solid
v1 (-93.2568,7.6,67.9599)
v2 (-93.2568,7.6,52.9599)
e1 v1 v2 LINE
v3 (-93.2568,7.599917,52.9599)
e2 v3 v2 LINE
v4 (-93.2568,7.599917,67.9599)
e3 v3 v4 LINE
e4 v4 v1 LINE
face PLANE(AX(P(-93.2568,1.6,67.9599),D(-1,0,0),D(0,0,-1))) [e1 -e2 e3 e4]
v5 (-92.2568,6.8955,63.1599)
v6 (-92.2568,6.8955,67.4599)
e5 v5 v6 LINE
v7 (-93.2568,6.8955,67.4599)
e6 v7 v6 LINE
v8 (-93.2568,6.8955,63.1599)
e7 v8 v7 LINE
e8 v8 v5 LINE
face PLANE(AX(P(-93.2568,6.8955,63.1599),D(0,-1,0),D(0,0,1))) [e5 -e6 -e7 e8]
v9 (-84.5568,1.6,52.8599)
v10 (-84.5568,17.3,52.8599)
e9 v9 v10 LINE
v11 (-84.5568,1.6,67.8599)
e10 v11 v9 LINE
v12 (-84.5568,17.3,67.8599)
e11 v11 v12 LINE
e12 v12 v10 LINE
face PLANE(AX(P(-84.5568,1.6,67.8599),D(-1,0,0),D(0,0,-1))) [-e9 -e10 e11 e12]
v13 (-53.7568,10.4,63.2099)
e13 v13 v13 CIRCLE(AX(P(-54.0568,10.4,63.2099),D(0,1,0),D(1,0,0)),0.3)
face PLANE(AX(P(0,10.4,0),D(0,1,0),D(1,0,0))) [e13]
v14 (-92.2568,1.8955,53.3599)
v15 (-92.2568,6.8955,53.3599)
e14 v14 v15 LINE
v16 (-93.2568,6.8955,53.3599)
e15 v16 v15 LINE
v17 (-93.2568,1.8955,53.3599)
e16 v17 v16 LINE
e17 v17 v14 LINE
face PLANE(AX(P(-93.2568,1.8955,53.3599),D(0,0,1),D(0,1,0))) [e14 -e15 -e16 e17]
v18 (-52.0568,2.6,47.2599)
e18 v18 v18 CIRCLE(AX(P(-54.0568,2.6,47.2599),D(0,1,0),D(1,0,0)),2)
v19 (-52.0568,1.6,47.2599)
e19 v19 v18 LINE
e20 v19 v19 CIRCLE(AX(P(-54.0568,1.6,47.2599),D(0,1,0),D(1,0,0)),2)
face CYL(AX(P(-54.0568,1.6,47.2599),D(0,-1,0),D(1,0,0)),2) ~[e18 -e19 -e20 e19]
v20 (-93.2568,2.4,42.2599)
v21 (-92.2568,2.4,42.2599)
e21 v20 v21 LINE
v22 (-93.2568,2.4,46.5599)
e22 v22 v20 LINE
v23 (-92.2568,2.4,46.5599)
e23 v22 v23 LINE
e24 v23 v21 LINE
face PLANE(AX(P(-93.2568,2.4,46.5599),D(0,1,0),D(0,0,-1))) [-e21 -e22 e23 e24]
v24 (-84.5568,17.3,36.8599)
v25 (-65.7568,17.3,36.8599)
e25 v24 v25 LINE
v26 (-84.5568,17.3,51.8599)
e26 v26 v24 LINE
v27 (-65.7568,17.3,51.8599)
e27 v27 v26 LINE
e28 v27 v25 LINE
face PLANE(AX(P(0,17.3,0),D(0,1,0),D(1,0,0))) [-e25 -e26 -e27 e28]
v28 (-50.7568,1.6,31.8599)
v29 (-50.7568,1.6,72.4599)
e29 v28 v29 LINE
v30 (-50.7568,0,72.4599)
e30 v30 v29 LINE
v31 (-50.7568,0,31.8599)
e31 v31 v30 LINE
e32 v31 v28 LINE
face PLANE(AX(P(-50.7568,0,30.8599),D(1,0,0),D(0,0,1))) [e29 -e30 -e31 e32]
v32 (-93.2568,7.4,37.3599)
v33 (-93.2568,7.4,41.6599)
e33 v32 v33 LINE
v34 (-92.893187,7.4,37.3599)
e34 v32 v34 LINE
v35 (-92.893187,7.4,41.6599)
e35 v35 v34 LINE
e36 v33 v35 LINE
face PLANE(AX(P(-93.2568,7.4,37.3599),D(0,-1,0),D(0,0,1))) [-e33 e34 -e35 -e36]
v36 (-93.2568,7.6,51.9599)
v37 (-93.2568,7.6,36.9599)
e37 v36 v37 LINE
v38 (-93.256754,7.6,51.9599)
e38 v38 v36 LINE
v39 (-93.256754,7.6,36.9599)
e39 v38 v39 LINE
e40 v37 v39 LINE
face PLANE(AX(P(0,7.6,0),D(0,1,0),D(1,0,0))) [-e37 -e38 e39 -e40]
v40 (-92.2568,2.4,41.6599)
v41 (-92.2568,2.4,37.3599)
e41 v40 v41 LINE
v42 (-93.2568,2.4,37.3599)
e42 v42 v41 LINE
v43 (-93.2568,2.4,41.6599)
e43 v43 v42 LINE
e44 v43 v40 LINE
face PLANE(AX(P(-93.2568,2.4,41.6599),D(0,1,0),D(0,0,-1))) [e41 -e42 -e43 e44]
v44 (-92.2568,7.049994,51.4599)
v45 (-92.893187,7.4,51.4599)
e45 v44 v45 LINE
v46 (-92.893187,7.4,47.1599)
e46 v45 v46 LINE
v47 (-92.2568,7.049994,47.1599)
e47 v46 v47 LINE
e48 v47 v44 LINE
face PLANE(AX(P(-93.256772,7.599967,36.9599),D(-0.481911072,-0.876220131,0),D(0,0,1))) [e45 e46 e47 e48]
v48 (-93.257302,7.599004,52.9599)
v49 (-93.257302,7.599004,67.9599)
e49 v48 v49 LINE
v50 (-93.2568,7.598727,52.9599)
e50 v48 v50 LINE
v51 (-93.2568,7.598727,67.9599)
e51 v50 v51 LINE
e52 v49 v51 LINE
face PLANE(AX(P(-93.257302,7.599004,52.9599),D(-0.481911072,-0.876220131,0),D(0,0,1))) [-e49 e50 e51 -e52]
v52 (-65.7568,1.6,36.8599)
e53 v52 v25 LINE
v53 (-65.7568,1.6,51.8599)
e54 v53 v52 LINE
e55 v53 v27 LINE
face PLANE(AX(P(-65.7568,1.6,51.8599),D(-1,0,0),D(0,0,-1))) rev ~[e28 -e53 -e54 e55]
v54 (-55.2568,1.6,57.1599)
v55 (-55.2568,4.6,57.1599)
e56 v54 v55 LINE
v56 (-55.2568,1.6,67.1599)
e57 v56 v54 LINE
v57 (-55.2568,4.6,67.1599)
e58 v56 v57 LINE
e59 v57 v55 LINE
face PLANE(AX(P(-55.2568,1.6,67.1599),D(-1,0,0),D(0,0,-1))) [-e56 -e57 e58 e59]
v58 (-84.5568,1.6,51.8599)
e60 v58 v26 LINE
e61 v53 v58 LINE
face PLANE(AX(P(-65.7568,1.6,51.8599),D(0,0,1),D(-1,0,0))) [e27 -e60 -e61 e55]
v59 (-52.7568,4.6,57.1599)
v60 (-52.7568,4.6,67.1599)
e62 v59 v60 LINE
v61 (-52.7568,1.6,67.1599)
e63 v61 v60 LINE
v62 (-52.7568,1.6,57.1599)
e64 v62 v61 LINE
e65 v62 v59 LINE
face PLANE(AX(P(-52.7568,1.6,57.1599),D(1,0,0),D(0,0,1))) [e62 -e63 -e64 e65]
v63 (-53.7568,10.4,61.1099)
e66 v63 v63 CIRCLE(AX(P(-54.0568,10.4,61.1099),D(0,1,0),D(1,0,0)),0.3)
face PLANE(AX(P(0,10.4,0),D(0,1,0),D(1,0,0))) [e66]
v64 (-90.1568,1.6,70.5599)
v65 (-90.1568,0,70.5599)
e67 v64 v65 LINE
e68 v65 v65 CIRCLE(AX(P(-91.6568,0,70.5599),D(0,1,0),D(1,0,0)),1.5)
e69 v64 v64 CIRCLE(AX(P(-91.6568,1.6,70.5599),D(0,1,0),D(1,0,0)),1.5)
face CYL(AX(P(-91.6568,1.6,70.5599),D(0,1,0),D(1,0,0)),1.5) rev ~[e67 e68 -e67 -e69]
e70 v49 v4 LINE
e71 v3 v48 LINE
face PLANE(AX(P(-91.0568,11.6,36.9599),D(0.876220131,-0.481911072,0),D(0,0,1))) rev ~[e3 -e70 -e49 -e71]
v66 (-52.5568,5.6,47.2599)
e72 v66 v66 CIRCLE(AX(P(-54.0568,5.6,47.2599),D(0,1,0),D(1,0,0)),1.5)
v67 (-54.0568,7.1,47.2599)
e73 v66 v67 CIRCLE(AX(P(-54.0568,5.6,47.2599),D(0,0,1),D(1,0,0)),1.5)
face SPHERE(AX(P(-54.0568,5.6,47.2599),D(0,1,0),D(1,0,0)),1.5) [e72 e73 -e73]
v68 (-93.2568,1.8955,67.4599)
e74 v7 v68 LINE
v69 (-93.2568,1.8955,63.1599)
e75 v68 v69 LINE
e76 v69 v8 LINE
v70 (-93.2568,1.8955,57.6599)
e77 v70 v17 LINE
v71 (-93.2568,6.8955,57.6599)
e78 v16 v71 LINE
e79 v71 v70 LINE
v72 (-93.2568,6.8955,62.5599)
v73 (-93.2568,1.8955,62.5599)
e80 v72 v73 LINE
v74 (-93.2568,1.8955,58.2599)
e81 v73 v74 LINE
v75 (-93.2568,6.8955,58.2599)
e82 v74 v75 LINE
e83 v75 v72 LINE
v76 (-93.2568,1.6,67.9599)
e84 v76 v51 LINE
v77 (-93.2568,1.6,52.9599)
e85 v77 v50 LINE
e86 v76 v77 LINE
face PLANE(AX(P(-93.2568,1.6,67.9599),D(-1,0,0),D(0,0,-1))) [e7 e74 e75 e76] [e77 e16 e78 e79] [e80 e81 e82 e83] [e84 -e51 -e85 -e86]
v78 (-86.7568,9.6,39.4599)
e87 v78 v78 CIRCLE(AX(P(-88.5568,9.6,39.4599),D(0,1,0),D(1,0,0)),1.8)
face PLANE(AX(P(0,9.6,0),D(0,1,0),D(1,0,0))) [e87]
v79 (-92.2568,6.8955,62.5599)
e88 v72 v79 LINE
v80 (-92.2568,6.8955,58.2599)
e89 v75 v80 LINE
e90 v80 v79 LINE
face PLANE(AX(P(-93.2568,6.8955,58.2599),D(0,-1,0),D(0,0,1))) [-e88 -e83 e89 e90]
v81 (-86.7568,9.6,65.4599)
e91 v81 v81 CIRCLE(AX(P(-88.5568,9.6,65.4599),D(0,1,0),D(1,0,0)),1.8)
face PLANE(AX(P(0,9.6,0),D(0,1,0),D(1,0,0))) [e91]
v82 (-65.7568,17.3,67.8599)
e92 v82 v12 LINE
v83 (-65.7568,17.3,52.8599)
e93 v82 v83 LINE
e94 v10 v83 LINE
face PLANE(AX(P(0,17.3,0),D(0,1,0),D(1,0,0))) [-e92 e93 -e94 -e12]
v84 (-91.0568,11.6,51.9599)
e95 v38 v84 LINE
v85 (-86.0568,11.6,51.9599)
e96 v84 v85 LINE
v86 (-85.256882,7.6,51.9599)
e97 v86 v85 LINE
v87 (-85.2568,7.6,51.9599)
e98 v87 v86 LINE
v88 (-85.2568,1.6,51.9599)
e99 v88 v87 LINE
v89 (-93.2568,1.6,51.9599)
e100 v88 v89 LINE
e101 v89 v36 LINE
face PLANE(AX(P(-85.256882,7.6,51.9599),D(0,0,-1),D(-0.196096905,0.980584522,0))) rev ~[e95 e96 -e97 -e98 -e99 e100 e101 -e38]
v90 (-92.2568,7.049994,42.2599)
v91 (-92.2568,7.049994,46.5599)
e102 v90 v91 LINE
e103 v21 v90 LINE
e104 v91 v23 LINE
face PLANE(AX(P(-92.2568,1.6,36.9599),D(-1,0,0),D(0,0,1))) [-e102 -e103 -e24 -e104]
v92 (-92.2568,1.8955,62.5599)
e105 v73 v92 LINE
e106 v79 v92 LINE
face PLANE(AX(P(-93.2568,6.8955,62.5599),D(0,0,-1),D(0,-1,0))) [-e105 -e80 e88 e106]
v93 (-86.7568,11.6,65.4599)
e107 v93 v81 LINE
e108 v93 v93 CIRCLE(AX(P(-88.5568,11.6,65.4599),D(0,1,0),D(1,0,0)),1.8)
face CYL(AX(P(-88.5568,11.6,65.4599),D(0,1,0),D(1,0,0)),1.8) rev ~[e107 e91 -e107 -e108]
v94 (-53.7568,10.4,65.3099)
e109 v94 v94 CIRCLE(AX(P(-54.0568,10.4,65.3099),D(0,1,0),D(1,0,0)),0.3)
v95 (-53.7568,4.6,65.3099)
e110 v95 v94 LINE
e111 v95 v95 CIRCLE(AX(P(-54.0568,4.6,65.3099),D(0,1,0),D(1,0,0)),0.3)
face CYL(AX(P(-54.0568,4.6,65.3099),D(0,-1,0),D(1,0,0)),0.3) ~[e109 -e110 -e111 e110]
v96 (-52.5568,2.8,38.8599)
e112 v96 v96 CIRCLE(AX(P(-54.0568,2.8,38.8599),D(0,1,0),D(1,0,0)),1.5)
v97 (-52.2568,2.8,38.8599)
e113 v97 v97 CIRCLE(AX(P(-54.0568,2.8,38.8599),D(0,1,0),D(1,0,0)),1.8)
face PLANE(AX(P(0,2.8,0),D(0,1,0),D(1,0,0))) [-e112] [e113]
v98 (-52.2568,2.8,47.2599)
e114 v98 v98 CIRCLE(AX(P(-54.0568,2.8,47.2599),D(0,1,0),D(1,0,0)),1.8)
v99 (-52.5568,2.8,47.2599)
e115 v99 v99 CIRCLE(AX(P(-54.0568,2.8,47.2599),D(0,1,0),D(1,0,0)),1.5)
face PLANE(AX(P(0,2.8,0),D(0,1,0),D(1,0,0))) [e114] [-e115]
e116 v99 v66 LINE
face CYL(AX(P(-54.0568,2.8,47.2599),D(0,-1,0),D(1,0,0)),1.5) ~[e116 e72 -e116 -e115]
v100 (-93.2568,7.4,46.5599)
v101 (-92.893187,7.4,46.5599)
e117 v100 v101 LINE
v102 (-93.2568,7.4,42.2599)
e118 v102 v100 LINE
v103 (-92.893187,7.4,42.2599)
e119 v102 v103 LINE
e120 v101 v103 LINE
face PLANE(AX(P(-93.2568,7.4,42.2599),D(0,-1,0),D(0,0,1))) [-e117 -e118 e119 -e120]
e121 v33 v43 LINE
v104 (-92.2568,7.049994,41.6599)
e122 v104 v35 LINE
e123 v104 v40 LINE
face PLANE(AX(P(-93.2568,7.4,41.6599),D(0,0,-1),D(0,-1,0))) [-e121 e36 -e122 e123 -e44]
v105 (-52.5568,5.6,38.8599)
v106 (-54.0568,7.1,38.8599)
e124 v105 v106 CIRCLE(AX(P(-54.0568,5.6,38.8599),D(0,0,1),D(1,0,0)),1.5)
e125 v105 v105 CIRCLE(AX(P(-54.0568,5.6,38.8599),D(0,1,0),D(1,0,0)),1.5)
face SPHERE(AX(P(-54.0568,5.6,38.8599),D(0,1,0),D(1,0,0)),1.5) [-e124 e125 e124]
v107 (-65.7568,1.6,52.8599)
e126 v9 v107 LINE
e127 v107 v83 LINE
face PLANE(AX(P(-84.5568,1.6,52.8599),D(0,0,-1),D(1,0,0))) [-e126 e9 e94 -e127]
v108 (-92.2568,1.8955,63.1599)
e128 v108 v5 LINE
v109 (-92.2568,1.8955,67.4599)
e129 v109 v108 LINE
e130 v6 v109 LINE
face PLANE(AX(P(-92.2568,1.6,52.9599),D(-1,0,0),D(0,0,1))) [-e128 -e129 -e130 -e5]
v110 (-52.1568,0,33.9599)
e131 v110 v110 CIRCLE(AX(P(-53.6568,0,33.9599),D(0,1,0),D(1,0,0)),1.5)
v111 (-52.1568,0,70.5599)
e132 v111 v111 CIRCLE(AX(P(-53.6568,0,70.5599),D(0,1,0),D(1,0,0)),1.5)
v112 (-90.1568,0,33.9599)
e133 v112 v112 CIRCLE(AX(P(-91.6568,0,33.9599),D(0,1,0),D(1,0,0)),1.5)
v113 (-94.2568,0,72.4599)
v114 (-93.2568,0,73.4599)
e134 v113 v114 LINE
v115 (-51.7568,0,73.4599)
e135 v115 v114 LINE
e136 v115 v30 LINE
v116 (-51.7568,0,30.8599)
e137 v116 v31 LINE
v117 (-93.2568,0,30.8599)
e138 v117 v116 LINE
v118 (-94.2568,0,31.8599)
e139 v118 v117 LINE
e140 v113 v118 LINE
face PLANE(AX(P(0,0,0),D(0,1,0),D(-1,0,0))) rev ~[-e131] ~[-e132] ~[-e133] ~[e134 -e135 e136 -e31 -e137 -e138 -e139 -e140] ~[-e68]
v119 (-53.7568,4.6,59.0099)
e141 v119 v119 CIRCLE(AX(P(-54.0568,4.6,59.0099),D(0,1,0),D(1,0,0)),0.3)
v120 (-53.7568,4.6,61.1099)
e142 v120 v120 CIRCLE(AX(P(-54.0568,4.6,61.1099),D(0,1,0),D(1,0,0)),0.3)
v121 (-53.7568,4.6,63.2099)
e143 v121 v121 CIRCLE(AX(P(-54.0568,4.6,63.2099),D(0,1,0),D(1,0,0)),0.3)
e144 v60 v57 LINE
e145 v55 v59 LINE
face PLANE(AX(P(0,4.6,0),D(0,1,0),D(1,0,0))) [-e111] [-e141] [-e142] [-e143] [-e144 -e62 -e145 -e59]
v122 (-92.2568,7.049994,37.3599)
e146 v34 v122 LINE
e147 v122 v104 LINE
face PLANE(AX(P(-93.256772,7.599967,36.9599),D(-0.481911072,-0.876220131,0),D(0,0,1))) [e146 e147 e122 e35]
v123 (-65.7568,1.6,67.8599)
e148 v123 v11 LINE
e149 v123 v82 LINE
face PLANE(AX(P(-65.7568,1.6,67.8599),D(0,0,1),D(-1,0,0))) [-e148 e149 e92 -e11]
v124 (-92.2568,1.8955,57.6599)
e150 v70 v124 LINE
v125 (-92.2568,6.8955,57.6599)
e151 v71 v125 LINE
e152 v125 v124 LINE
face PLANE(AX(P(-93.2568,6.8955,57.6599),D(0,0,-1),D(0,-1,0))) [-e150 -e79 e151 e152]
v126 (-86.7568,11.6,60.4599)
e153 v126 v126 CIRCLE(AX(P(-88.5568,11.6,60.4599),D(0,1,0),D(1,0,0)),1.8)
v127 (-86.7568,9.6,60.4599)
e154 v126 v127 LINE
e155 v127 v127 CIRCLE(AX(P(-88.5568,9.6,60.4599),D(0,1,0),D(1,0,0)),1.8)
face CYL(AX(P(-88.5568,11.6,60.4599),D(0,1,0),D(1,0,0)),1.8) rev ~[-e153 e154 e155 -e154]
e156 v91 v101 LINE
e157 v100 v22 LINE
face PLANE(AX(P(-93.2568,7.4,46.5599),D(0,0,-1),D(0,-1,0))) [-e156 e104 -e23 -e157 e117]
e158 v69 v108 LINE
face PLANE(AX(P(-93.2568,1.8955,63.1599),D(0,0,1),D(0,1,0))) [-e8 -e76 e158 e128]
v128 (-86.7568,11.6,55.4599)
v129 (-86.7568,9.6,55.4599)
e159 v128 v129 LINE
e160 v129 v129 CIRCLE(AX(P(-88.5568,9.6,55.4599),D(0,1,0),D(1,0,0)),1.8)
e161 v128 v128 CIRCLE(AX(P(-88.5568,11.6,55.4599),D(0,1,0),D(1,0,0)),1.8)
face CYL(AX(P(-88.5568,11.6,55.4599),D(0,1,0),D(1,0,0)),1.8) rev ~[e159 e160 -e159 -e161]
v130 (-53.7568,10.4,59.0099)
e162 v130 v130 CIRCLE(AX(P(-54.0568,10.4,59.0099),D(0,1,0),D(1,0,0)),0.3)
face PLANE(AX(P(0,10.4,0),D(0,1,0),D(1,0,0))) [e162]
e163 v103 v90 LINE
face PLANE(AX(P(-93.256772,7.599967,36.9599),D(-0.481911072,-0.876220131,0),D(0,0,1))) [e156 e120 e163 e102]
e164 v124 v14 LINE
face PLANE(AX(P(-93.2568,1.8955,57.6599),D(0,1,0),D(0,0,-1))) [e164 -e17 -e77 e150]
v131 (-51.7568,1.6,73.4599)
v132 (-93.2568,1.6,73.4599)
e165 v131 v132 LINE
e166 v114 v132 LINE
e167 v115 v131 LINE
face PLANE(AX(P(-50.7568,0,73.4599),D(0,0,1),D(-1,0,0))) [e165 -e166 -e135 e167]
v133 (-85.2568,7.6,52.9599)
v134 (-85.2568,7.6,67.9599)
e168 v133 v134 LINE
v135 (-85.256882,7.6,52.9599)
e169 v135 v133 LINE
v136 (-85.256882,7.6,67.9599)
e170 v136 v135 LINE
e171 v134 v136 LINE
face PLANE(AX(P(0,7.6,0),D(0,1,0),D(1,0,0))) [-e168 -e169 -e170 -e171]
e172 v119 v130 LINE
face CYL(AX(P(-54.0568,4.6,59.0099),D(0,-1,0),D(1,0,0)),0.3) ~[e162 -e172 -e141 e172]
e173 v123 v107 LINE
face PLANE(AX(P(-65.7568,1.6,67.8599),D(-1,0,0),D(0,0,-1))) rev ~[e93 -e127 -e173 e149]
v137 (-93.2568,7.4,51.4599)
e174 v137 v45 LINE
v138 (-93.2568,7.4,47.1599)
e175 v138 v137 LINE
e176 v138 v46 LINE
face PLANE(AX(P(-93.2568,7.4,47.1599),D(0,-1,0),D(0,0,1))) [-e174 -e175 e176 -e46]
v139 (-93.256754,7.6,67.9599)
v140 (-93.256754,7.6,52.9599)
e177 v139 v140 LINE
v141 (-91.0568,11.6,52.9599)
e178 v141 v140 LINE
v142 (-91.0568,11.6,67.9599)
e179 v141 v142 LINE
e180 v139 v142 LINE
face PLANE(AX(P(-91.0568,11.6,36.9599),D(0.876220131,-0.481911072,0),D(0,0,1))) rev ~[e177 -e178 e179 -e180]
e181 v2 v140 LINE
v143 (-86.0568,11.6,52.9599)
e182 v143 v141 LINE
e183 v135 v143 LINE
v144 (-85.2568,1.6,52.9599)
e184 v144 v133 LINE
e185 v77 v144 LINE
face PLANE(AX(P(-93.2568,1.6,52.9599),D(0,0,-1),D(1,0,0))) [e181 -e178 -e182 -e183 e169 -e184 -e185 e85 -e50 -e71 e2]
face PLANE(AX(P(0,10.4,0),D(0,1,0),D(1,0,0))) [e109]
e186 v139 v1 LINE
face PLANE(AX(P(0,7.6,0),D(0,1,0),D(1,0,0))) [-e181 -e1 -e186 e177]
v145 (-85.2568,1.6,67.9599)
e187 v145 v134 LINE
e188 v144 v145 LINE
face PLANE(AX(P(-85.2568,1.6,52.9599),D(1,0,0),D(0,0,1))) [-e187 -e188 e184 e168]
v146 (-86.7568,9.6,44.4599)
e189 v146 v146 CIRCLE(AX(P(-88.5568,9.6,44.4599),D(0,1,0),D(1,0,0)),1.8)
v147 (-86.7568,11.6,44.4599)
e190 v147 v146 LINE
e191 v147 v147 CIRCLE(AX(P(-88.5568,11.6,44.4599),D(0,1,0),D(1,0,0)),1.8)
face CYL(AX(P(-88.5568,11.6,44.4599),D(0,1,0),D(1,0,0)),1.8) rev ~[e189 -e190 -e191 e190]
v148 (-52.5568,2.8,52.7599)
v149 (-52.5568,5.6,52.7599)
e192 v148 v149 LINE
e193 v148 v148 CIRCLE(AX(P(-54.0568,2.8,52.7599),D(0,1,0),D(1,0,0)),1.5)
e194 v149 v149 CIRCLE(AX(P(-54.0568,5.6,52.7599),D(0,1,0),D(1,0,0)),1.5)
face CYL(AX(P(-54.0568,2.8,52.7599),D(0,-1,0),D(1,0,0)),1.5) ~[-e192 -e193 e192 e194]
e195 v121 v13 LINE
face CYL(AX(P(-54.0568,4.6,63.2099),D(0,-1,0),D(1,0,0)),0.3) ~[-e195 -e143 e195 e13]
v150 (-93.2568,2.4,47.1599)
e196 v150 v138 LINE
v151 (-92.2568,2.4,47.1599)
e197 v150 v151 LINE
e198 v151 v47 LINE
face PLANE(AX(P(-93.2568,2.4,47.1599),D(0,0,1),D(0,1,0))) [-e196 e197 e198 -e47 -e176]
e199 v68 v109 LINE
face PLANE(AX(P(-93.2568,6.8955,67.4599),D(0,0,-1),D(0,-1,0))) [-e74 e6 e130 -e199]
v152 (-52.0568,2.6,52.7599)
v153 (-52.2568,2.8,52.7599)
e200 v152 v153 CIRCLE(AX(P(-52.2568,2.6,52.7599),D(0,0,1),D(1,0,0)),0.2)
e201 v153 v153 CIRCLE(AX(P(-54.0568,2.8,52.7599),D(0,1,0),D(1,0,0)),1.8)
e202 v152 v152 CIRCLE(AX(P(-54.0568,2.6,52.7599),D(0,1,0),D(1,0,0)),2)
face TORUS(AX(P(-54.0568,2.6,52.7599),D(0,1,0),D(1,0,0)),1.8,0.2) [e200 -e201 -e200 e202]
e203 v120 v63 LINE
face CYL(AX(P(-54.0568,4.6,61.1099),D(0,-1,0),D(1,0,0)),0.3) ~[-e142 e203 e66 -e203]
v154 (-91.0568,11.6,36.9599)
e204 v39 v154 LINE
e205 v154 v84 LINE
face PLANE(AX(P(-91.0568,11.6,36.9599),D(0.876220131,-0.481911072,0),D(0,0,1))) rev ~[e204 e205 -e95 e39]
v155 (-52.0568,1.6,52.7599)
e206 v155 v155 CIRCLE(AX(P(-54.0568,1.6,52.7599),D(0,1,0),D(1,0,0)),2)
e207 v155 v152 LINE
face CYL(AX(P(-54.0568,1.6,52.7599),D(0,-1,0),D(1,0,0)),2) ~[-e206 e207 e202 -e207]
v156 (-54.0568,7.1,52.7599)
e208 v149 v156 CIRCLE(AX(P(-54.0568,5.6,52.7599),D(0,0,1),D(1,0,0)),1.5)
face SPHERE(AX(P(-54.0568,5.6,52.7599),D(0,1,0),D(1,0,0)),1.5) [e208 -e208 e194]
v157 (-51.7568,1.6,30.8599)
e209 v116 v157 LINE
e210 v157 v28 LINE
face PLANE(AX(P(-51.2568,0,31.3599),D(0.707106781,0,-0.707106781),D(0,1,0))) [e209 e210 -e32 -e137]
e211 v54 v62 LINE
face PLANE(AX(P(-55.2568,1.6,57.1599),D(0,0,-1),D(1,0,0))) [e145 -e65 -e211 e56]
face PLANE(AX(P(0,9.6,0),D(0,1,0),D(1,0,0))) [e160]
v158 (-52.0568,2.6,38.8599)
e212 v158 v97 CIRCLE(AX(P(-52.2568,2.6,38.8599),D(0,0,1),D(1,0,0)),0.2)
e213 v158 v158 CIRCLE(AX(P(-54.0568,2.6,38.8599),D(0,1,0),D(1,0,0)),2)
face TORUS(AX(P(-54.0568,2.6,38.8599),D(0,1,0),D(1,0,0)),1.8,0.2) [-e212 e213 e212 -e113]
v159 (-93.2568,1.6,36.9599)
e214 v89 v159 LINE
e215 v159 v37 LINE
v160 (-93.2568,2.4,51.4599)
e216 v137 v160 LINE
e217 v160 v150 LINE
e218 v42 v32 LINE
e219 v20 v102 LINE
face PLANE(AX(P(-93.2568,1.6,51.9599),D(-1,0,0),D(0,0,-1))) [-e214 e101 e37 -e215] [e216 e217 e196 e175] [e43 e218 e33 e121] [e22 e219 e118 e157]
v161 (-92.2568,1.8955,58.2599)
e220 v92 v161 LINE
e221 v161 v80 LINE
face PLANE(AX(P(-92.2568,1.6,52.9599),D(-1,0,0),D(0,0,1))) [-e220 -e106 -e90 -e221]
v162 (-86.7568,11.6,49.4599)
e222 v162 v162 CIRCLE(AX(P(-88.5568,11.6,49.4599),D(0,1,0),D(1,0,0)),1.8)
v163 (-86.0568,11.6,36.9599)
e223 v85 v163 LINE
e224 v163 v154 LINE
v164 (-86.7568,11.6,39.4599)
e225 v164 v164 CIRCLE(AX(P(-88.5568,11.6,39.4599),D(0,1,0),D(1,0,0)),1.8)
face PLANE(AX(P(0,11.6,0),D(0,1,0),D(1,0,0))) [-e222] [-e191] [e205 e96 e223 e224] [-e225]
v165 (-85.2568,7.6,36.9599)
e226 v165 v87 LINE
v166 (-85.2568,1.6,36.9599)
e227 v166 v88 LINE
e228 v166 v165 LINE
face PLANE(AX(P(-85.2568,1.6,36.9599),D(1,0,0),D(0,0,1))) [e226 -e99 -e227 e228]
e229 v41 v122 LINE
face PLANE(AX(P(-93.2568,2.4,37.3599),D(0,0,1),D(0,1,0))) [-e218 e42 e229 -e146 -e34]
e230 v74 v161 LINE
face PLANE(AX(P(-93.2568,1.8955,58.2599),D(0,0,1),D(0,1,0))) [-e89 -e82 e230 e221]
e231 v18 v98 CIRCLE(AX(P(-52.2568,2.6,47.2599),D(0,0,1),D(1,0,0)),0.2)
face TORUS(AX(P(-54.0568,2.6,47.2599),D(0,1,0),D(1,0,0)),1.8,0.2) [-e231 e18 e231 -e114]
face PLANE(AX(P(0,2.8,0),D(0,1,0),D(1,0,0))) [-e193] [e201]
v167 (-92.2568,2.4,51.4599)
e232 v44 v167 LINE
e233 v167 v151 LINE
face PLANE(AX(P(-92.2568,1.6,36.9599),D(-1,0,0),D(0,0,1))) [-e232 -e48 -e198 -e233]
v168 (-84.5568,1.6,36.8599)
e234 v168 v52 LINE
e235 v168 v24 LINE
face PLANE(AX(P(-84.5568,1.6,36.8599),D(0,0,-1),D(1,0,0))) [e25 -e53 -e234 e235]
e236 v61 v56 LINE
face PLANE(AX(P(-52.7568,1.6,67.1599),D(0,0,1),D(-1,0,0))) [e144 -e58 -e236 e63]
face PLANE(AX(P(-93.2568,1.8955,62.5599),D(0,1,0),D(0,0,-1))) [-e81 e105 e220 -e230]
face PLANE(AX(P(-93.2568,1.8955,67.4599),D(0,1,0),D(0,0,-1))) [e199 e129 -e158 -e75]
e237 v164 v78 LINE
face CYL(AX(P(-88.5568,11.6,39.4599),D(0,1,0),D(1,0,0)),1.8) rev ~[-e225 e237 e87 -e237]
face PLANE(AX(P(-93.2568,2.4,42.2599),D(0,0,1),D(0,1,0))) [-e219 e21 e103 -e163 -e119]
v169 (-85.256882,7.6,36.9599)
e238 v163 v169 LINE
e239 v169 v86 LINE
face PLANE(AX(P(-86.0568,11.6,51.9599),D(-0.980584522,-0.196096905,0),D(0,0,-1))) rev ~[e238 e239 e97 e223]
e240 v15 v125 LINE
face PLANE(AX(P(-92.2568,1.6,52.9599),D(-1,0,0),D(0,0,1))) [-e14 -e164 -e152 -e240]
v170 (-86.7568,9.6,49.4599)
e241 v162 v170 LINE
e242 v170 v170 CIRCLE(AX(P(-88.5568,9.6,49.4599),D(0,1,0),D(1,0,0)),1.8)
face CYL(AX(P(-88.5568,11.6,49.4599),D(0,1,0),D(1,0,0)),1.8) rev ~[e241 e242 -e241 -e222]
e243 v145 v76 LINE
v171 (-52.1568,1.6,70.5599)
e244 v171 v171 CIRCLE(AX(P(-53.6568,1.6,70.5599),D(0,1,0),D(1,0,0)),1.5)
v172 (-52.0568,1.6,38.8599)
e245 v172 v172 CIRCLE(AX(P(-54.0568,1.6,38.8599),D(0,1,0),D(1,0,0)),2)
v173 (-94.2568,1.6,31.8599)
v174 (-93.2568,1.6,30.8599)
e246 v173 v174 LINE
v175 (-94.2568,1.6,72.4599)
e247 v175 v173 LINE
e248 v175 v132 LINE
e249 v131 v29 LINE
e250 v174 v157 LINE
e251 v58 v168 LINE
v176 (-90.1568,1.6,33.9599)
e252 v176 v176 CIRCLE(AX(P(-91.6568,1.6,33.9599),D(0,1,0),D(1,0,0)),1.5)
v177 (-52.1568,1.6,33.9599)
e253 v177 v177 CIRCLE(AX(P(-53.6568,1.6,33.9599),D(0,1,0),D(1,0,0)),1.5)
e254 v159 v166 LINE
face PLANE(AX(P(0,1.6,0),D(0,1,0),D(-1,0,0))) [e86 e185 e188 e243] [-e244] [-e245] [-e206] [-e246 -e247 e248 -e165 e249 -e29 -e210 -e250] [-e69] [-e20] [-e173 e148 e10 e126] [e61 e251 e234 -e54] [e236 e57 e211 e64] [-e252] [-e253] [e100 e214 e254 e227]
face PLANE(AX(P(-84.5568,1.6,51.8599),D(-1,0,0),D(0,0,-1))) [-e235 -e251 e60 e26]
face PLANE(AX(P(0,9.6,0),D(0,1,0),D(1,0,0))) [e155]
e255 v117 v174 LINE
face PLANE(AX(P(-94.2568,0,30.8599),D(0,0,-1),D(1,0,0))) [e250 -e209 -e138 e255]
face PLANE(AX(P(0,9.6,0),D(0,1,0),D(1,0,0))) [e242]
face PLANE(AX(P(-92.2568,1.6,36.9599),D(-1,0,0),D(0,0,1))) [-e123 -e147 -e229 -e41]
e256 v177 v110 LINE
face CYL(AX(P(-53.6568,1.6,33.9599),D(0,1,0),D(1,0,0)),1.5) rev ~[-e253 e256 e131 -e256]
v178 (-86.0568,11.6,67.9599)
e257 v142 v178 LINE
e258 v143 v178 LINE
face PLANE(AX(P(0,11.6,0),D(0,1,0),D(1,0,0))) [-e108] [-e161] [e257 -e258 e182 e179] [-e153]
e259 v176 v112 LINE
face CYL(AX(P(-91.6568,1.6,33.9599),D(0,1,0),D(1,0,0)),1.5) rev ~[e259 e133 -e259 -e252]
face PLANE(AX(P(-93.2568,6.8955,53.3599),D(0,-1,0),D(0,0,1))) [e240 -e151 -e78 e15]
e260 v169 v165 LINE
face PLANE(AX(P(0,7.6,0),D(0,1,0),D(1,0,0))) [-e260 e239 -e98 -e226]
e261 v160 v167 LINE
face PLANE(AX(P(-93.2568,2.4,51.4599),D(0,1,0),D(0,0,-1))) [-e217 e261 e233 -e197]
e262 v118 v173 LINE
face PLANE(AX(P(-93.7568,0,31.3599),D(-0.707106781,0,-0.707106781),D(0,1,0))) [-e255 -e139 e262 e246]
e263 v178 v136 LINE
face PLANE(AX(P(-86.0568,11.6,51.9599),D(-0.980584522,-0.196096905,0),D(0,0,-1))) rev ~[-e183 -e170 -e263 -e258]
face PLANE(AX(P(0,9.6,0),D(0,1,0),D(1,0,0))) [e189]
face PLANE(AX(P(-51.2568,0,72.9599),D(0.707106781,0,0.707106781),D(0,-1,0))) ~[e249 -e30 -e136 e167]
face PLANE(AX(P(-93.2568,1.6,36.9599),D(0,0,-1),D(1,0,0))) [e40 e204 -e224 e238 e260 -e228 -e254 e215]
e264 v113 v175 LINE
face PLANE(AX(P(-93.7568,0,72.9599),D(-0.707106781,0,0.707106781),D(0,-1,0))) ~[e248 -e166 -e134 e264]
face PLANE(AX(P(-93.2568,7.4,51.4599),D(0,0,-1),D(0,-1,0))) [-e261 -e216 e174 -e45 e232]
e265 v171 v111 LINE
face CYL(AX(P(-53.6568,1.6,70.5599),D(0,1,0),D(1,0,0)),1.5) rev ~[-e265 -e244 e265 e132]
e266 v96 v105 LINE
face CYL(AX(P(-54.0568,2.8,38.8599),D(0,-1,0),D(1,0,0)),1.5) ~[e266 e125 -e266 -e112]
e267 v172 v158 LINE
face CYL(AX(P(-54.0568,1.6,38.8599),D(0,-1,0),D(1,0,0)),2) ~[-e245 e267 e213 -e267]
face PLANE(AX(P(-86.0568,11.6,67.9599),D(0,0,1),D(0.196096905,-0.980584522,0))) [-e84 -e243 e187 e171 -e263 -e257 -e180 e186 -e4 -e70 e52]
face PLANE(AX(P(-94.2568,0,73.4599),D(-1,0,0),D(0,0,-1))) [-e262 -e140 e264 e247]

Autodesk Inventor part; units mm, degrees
ref_plane "YZ Plane" through (0, 0, 0) normal (1, 0, 0) x (0, 1, 0)
ref_plane "XZ Plane" through (0, 0, 0) normal (0, 1, 0) x (-1, 0, 0)
ref_plane "XY Plane" through (0, 0, 0) normal (0, 0, 1) x (1, 0, 0)
sketch "Sketch1" plane through (0, 0, 0) normal (0, 1, 0) x (-1, 0, 0)
  line L0 (94.2568, 73.4599) -> (94.2568, 30.8599)
  line L1 (94.2568, 30.8599) -> (50.7568, 30.8599)
  line L2 (50.7568, 30.8599) -> (50.7568, 73.4599)
  line L3 (50.7568, 73.4599) -> (94.2568, 73.4599)
  point P0 (0, 0)
  dimension "d0" = 42.6
  dimension "d1" = 43.5
extrude "Extrusion1" add sketch "Sketch1" along normal blind 1.6
sketch "Sketch2" plane through (0, 1.6, 0) normal (0, 1, 0) x (1, 0, 0)
  circle A0 centre (-53.6568, -70.5599) radius 1.5
  circle A1 centre (-53.6568, -33.9599) radius 1.5
  line L0 (-94.2568, -73.4599) -> (-50.7568, -73.4599) projected
  line L1 (-50.7568, -73.4599) -> (-50.7568, -30.8599) projected
  circle A2 centre (-91.6568, -33.9599) radius 1.5
  circle A3 centre (-91.6568, -70.5599) radius 1.5
  line L2 (-94.2568, -30.8599) -> (-94.2568, -73.4599) projected
  point P0 (0, 0)
  dimension "d4" = 3
  dimension "d5" = 3
  dimension "d6" = 36.6
  dimension "d7" = 2.9
  dimension "d8" = 2.9
  dimension "d9" = 2.9
  dimension "d10" = 3
  dimension "d11" = 38
  dimension "d12" = 3
  dimension "d13" = 38
  dimension "d14" = 2.6
extrude "Extrusion2" cut sketch "Sketch2" against normal blind 1.6
sketch "Sketch3" plane through (0, 1.6, 0) normal (0, 1, 0) x (1, 0, 0)
  line L0 (-65.7568, -67.8599) -> (-65.7568, -52.8599)
  line L1 (-65.7568, -51.8599) -> (-65.7568, -36.8599)
  line L2 (-50.7568, -73.4599) -> (-50.7568, -30.8599) projected
  line L3 (-65.7568, -67.8599) -> (-84.5568, -67.8599)
  line L4 (-84.5568, -67.8599) -> (-84.5568, -52.8599)
  line L5 (-84.5568, -52.8599) -> (-65.7568, -52.8599)
  line L6 (-65.7568, -51.8599) -> (-84.5568, -51.8599)
  line L7 (-84.5568, -51.8599) -> (-84.5568, -36.8599)
  line L8 (-84.5568, -36.8599) -> (-65.7568, -36.8599)
  line L9 (-94.2568, -73.4599) -> (-50.7568, -73.4599) projected
  point P0 (0, 0)
  dimension "d17" = 15
  dimension "d18" = 15
  dimension "d19" = 15
  dimension "d20" = 15
  dimension "d21" = 18.8
  dimension "d22" = 5.6
  dimension "d23" = 1
sketch "Sketch4" plane through (0, 1.6, 0) normal (0, 1, 0) x (1, 0, 0)
  line L0 (-55.2568, -67.1599) -> (-55.2568, -57.1599)
  line L1 (-55.2568, -57.1599) -> (-52.7568, -57.1599)
  line L2 (-52.7568, -57.1599) -> (-52.7568, -67.1599)
  line L3 (-52.7568, -67.1599) -> (-55.2568, -67.1599)
  line L4 (-50.7568, -73.4599) -> (-50.7568, -30.8599) projected
  line L5 (-94.2568, -73.4599) -> (-50.7568, -73.4599) projected
  point P0 (0, 0)
  dimension "d26" = 10
  dimension "d27" = 2
  dimension "d28" = 2.5
  dimension "d29" = 6.3
extrude "Extrusion4" add sketch "Sketch4" along normal blind 3
sketch "Sketch5" plane through (0, 4.6, 0) normal (0, 1, 0) x (1, 0, 0)
  circle A0 centre (-54.0568, -65.3099) radius 0.3
  circle A1 centre (-54.0568, -63.2099) radius 0.3
  circle A2 centre (-54.0568, -61.1099) radius 0.3
  circle A3 centre (-54.0568, -59.0099) radius 0.3
  line L0 (-55.2568, -67.1599) -> (-52.7568, -67.1599) projected
  line L1 (-52.7568, -67.1599) -> (-52.7568, -57.1599) projected
  point P0 (0, 0)
  dimension "d32" = 0.6
  dimension "d33" = 0.6
  dimension "d34" = 0.6
  dimension "d35" = 0.6
  dimension "d36" = 1.85
  dimension "d37" = 1.3
  dimension "d38" = 2.1
  dimension "d39" = 2.1
  dimension "d40" = 2.1
  dimension "d41" = 1.3
extrude "Extrusion5" add sketch "Sketch5" along normal blind 5.8
sketch "Sketch6" plane through (0, 1.6, 0) normal (0, 1, 0) x (1, 0, 0)
  circle A0 centre (-54.0568, -38.8599) radius 2
  circle A1 centre (-54.0568, -47.2599) radius 2
  circle A2 centre (-54.0568, -52.7599) radius 2
  circle A3 centre (-53.6568, -33.9599) radius 1.5 projected
  line L0 (-50.7568, -30.8599) -> (-94.2568, -30.8599) projected
  line L1 (-50.7568, -30.8599) -> (-50.7568, -73.4599) projected
  point P0 (0, 0)
  dimension "d44" = 4
  dimension "d45" = 4
  dimension "d46" = 4
  dimension "d48" = 8
  dimension "d49" = 8.4
  dimension "d50" = 5.5
  dimension "d51" = 3.3
extrude "Extrusion6" add sketch "Sketch6" along normal blind 1.2 contours A0 | A1 | A2
sketch "Sketch7" plane through (-54.0568, 2.8, 52.7599) normal (0, 1, 0) x (1, 0, 0)
  circle A0 centre (0, 0) radius 2 projected
  circle A1 centre (0, 0) radius 1.5
  point P0 (54.0568, 52.7599)
  dimension "d54" = 3
sketch "Sketch8" plane through (-54.0568, 2.8, 47.2599) normal (0, 1, 0) x (1, 0, 0)
  circle A0 centre (0, 0) radius 2 projected
  circle A1 centre (0, 0) radius 1.5
  point P0 (54.0568, 47.2599)
  dimension "d55" = 3
sketch "Sketch9" plane through (-54.0568, 2.8, 38.8599) normal (0, 1, 0) x (1, 0, 0)
  circle A0 centre (0, 0) radius 2 projected
  circle A1 centre (0, 0) radius 1.5
  point P0 (54.0568, 38.8599)
  dimension "d56" = 3
extrude "Extrusion7" add sketch "Sketch7" along normal blind 4.3 contours A1
extrude "Extrusion8" add sketch "Sketch8" along normal blind 4.3 contours A1
extrude "Extrusion9" add sketch "Sketch9" along normal blind 4.3 contours A1
fillet "Fillet1" radius 1.5 3 edges at (-55.5568, 7.1, 52.7599) (-55.5568, 7.1, 47.2599) (-55.5568, 7.1, 38.8599)
sketch "Sketch10" plane through (0, 1.6, 0) normal (0, 1, 0) x (1, 0, 0)
  line L0 (-85.2568, -36.9599) -> (-85.2568, -51.9599)
  line L1 (-85.2568, -51.9599) -> (-93.2568, -51.9599)
  line L2 (-93.2568, -51.9599) -> (-93.2568, -36.9599)
  line L3 (-93.2568, -36.9599) -> (-85.2568, -36.9599)
  line L4 (-93.2568, -52.9599) -> (-85.2568, -52.9599)
  line L5 (-85.2568, -52.9599) -> (-85.2568, -67.9599)
  line L6 (-85.2568, -67.9599) -> (-93.2568, -67.9599)
  line L7 (-93.2568, -67.9599) -> (-93.2568, -52.9599)
  line L8 (-84.5568, -36.8599) -> (-84.5568, -51.8599) projected
  line L9 (-50.7568, -30.8599) -> (-94.2568, -30.8599) projected
  point P0 (0, 0)
  dimension "d64" = 8
  dimension "d65" = 0.7
  dimension "d66" = 6.1
  dimension "d67" = 15
  dimension "d68" = 15
  dimension "d69" = 1
extrude "Extrusion10" add sketch "Sketch10" along normal blind 6
sketch "Sketch11" plane through (-93.2568, 1.6, 36.9599) normal (-1, 0, 0) x (0, 0, 1)
  line L0 (0.4, 0.8) -> (0.4, 5.8)
  line L1 (0.4, 5.8) -> (4.7, 5.8)
  line L2 (4.7, 5.8) -> (4.7, 0.8)
  line L3 (4.7, 0.8) -> (0.4, 0.8)
  line L4 (15, 0) -> (0, 0) projected
  line L5 (5.3, 5.8) -> (9.6, 5.8)
  line L6 (9.6, 5.8) -> (9.6, 0.8)
  line L7 (9.6, 0.8) -> (5.3, 0.8)
  line L8 (5.3, 0.8) -> (5.3, 5.8)
  line L9 (10.2, 5.8) -> (14.5, 5.8)
  line L10 (14.5, 5.8) -> (14.5, 0.8)
  line L11 (14.5, 0.8) -> (10.2, 0.8)
  line L12 (10.2, 0.8) -> (10.2, 5.8)
  line L13 (0, 0) -> (0, 6) projected
  point P0 (-36.9599, -1.6)
  dimension "d72" = 4.3
  dimension "d73" = 5
  dimension "d74" = 0.8
  dimension "d75" = 4.3
  dimension "d76" = 4.3
  dimension "d77" = 5
  dimension "d78" = 0.6
  dimension "d79" = 0.6
  dimension "d80" = 0.4
extrude "Extrusion11" cut sketch "Sketch11" against normal blind 1
sketch "Sketch12" plane through (0, 7.6, 0) normal (0, 1, 0) x (1, 0, 0)
  line L0 (-86.0568, -36.9599) -> (-91.0568, -36.9599)
  line L1 (-92.2568, -47.1599) -> (-92.2568, -51.4599) projected
  line L2 (-92.2568, -51.9599) -> (-86.0568, -51.9599)
  line L3 (-86.0568, -51.9599) -> (-86.0568, -36.9599)
  line L4 (-85.2568, -36.9599) -> (-93.2568, -36.9599) projected
  line L5 (-93.2568, -51.9599) -> (-85.2568, -51.9599) projected
  line L6 (-84.5568, -36.8599) -> (-84.5568, -51.8599) projected
  line L7 (-91.0568, -36.9599) -> (-91.0568, -51.9599)
  line L8 (-86.0568, -36.9599) -> (-91.0568, -36.9599)
  line L9 (-86.0568, -51.9599) -> (-91.0568, -51.9599)
  point P0 (0, 0)
  dimension "d83" = 0
  dimension "d84" = 0
  dimension "d85" = 1.5
  dimension "d86" = 5
extrude "Extrusion12" add sketch "Sketch12" along normal blind 4
ref_plane "Work Plane2" through (-91.0568, 11.6, 36.9599) normal (0.8762, -0.4819, 0) x (0, 0, 1)
sketch "Sketch13" plane through (-91.0568, 11.6, 36.9599) normal (0.8762, -0.4819, 0) x (0, 0, 1)
  line L0 (0, 0) -> (0, 4.5651)
  line L1 (0, 5.967) -> (0, 0.7097) projected
  line L2 (0, 4.5651) -> (15, 4.5651)
  line L3 (0, 4.5651) -> (15, 4.5651) projected
  line L4 (15, 4.5651) -> (15, 0)
  line L5 (15, 0) -> (0, 0)
  line L6 (0, 0) -> (15, 0) projected
  point P0 (-36.9599, -33.7179)
extrude "Extrusion13" add sketch "Sketch13" along normal blind 2
ref_plane "Work Plane3" through (-86.0568, 11.6, 51.9599) normal (-0.9806, -0.1961, 0) x (0, 0, -1)
sketch "Sketch14" plane through (-86.0568, 11.6, 51.9599) normal (-0.9806, -0.1961, 0) x (0, 0, -1)
  line L0 (15, 0) -> (15, 4.0792)
  line L1 (15, 4.0792) -> (0, 4.0792)
  line L2 (0, 4.0792) -> (0, 0)
  line L3 (0, 0) -> (15, 0)
  line L4 (0, 0) -> (15, 0) projected
  point P0 (51.9599, 28.2519)
extrude "Extrusion14" add sketch "Sketch14" along normal blind 2
sketch "Sketch15" plane through (0, 11.6, 0) normal (0, 1, 0) x (1, 0, 0)
  circle A0 centre (-88.5568, -39.4599) radius 1.8
  circle A1 centre (-88.5568, -44.4599) radius 1.8
  circle A2 centre (-88.5568, -49.4599) radius 1.8
  line L0 (-86.0568, -36.9599) -> (-91.0568, -36.9599) projected
  line L1 (-91.0568, -51.9599) -> (-86.0568, -51.9599) projected
  point P0 (0, 0)
  dimension "d93" = 3.6
  dimension "d94" = 3.6
  dimension "d95" = 3.6
  dimension "d96" = 2.5
  dimension "d97" = 5
  dimension "d98" = 5
extrude "Extrusion15" cut sketch "Sketch15" against normal blind 2
sketch "Sketch16" plane through (0, 7.6, 0) normal (0, 1, 0) x (1, 0, 0)
  line L0 (-85.2568, -52.9599) -> (-86.0568, -52.9599)
  line L1 (-85.2568, -52.9599) -> (-93.2568, -52.9599) projected
  line L2 (-86.0568, -51.9599) -> (-86.0568, -36.9599) projected
  line L3 (-86.0568, -52.9599) -> (-91.0568, -52.9599)
  line L4 (-91.0568, -52.9599) -> (-91.0568, -67.9599)
  line L5 (-93.2568, -67.9599) -> (-85.2568, -67.9599) projected
  line L6 (-86.0568, -52.9599) -> (-86.0568, -67.9599)
  line L7 (-91.0568, -67.9599) -> (-86.0568, -67.9599)
  point P0 (0, 0)
  dimension "d102" = 5
extrude "Extrusion16" add sketch "Sketch16" along normal blind 4
sketch "Sketch17" plane through (-91.0568, 11.6, 36.9599) normal (0.8762, -0.4819, 0) x (0, 0, 1)
  line L0 (16, 0) -> (16, 4.5662)
  line L1 (16, 4.5662) -> (31, 4.5662)
  line L2 (31, 5.967) -> (31, 0.7097) projected
  line L3 (31, 4.5662) -> (31, 0)
  line L4 (31, 1.0953) -> (31, -2.4096) projected
  line L5 (31, 0) -> (16, 0)
  line L6 (16, 0) -> (31, 0) projected
  point P0 (-36.9599, -33.7179)
extrude "Extrusion17" add sketch "Sketch17" along normal blind 4
sketch "Sketch18" plane through (-86.0568, 11.6, 51.9599) normal (-0.9806, -0.1961, 0) x (0, 0, -1)
  line L0 (-1, 4.0792) -> (-1, 0)
  line L1 (-1, 0) -> (-16, 0)
  line L2 (-16, 0) -> (-1, 0) projected
  line L3 (-16, 0) -> (-16, 4.0792)
  line L4 (-16, 3.9223) -> (-16, 0) projected
  line L5 (-16, 4.0792) -> (-1, 4.0792)
  line L6 (-16, 4.0792) -> (-1, 4.0792) projected
  point P0 (51.9599, 28.2519)
extrude "Extrusion18" add sketch "Sketch18" along normal blind 4
sketch "Sketch19" plane through (0, 11.6, 0) normal (0, 1, 0) x (1, 0, 0)
  circle A0 centre (-88.5568, -55.4599) radius 1.8
  circle A1 centre (-88.5568, -60.4599) radius 1.8
  circle A2 centre (-88.5568, -65.4599) radius 1.8
  line L0 (-86.0568, -52.9599) -> (-91.0568, -52.9599) projected
  line L1 (-91.0568, -67.9599) -> (-86.0568, -67.9599) projected
  line L2 (-91.0568, -52.9599) -> (-91.0568, -67.9599) projected
  point P0 (0, 0)
  dimension "d109" = 3.6
  dimension "d110" = 3.6
  dimension "d111" = 3.6
  dimension "d112" = 2.5
  dimension "d113" = 1.4
  dimension "d115" = 1.4
  dimension "d116" = 2.5
  dimension "d117" = 2.5
  dimension "d118" = 2.5
extrude "Extrusion19" cut sketch "Sketch19" against normal blind 2
sketch "Sketch20" plane through (-93.2568, 1.6, 52.9599) normal (-1, 0, 0) x (0, 0, 1)
  line L0 (0.4, 5.2955) -> (4.7, 5.2955)
  line L1 (4.7, 5.2955) -> (4.7, 0.2955)
  line L2 (4.7, 0.2955) -> (0.4, 0.2955)
  line L3 (0.4, 0.2955) -> (0.4, 5.2955)
  line L4 (5.3, 5.2955) -> (9.6, 5.2955)
  line L5 (9.6, 5.2955) -> (9.6, 0.2955)
  line L6 (9.6, 0.2955) -> (5.3, 0.2955)
  line L7 (5.3, 0.2955) -> (5.3, 5.2955)
  line L8 (10.2, 5.2955) -> (14.5, 5.2955)
  line L9 (14.5, 5.2955) -> (14.5, 0.2955)
  line L10 (14.5, 0.2955) -> (10.2, 0.2955)
  line L11 (10.2, 0.2955) -> (10.2, 5.2955)
  line L12 (0, 0) -> (0, 5.9988) projected
  point P0 (-52.9599, -1.6)
  dimension "d121" = 4.3
  dimension "d122" = 5
  dimension "d123" = 4.3
  dimension "d124" = 5
  dimension "d125" = 4.3
  dimension "d126" = 5
  dimension "d127" = 0.4
  dimension "d128" = 0.6
  dimension "d129" = 0.6
extrude "Extrusion20" cut sketch "Sketch20" against normal blind 1
extrude "Extrusion21" add sketch "Sketch3" along normal blind 15.7
chamfer "Chamfer1" distance 1 angle 45 4 edges at (-94.2568, 0.8, 30.8599) (-50.7568, 0.8, 30.8599) (-94.2568, 0.8, 73.4599) (-50.7568, 0.8, 73.4599)
fillet "Fillet2" radius 0.2 3 edges at (-56.0568, 2.8, 52.7599) (-56.0568, 2.8, 47.2599) (-56.0568, 2.8, 38.8599)
sketch "Sketch21" plane through (0, 1.6, 0) normal (0, 1, 0) x (1, 0, 0)
  circle A0 centre (-53.6568, -70.5599) radius 1.5 projected
  circle A1 centre (-53.6568, -70.5599) radius 1.5
  circle A2 centre (-91.6568, -70.5599) radius 1.5 projected
  circle A3 centre (-91.6568, -70.5599) radius 1.5
  circle A4 centre (-53.6568, -33.9599) radius 1.5 projected
  circle A5 centre (-53.6568, -33.9599) radius 1.5
  circle A6 centre (-91.6568, -33.9599) radius 1.5 projected
  circle A7 centre (-91.6568, -33.9599) radius 1.5
  point P0 (0, 0)
equation "\"d41\" = d37"
equation "\"d117\" = d116"
equation "\"d118\" = d116"
properties part number "relay_module"
